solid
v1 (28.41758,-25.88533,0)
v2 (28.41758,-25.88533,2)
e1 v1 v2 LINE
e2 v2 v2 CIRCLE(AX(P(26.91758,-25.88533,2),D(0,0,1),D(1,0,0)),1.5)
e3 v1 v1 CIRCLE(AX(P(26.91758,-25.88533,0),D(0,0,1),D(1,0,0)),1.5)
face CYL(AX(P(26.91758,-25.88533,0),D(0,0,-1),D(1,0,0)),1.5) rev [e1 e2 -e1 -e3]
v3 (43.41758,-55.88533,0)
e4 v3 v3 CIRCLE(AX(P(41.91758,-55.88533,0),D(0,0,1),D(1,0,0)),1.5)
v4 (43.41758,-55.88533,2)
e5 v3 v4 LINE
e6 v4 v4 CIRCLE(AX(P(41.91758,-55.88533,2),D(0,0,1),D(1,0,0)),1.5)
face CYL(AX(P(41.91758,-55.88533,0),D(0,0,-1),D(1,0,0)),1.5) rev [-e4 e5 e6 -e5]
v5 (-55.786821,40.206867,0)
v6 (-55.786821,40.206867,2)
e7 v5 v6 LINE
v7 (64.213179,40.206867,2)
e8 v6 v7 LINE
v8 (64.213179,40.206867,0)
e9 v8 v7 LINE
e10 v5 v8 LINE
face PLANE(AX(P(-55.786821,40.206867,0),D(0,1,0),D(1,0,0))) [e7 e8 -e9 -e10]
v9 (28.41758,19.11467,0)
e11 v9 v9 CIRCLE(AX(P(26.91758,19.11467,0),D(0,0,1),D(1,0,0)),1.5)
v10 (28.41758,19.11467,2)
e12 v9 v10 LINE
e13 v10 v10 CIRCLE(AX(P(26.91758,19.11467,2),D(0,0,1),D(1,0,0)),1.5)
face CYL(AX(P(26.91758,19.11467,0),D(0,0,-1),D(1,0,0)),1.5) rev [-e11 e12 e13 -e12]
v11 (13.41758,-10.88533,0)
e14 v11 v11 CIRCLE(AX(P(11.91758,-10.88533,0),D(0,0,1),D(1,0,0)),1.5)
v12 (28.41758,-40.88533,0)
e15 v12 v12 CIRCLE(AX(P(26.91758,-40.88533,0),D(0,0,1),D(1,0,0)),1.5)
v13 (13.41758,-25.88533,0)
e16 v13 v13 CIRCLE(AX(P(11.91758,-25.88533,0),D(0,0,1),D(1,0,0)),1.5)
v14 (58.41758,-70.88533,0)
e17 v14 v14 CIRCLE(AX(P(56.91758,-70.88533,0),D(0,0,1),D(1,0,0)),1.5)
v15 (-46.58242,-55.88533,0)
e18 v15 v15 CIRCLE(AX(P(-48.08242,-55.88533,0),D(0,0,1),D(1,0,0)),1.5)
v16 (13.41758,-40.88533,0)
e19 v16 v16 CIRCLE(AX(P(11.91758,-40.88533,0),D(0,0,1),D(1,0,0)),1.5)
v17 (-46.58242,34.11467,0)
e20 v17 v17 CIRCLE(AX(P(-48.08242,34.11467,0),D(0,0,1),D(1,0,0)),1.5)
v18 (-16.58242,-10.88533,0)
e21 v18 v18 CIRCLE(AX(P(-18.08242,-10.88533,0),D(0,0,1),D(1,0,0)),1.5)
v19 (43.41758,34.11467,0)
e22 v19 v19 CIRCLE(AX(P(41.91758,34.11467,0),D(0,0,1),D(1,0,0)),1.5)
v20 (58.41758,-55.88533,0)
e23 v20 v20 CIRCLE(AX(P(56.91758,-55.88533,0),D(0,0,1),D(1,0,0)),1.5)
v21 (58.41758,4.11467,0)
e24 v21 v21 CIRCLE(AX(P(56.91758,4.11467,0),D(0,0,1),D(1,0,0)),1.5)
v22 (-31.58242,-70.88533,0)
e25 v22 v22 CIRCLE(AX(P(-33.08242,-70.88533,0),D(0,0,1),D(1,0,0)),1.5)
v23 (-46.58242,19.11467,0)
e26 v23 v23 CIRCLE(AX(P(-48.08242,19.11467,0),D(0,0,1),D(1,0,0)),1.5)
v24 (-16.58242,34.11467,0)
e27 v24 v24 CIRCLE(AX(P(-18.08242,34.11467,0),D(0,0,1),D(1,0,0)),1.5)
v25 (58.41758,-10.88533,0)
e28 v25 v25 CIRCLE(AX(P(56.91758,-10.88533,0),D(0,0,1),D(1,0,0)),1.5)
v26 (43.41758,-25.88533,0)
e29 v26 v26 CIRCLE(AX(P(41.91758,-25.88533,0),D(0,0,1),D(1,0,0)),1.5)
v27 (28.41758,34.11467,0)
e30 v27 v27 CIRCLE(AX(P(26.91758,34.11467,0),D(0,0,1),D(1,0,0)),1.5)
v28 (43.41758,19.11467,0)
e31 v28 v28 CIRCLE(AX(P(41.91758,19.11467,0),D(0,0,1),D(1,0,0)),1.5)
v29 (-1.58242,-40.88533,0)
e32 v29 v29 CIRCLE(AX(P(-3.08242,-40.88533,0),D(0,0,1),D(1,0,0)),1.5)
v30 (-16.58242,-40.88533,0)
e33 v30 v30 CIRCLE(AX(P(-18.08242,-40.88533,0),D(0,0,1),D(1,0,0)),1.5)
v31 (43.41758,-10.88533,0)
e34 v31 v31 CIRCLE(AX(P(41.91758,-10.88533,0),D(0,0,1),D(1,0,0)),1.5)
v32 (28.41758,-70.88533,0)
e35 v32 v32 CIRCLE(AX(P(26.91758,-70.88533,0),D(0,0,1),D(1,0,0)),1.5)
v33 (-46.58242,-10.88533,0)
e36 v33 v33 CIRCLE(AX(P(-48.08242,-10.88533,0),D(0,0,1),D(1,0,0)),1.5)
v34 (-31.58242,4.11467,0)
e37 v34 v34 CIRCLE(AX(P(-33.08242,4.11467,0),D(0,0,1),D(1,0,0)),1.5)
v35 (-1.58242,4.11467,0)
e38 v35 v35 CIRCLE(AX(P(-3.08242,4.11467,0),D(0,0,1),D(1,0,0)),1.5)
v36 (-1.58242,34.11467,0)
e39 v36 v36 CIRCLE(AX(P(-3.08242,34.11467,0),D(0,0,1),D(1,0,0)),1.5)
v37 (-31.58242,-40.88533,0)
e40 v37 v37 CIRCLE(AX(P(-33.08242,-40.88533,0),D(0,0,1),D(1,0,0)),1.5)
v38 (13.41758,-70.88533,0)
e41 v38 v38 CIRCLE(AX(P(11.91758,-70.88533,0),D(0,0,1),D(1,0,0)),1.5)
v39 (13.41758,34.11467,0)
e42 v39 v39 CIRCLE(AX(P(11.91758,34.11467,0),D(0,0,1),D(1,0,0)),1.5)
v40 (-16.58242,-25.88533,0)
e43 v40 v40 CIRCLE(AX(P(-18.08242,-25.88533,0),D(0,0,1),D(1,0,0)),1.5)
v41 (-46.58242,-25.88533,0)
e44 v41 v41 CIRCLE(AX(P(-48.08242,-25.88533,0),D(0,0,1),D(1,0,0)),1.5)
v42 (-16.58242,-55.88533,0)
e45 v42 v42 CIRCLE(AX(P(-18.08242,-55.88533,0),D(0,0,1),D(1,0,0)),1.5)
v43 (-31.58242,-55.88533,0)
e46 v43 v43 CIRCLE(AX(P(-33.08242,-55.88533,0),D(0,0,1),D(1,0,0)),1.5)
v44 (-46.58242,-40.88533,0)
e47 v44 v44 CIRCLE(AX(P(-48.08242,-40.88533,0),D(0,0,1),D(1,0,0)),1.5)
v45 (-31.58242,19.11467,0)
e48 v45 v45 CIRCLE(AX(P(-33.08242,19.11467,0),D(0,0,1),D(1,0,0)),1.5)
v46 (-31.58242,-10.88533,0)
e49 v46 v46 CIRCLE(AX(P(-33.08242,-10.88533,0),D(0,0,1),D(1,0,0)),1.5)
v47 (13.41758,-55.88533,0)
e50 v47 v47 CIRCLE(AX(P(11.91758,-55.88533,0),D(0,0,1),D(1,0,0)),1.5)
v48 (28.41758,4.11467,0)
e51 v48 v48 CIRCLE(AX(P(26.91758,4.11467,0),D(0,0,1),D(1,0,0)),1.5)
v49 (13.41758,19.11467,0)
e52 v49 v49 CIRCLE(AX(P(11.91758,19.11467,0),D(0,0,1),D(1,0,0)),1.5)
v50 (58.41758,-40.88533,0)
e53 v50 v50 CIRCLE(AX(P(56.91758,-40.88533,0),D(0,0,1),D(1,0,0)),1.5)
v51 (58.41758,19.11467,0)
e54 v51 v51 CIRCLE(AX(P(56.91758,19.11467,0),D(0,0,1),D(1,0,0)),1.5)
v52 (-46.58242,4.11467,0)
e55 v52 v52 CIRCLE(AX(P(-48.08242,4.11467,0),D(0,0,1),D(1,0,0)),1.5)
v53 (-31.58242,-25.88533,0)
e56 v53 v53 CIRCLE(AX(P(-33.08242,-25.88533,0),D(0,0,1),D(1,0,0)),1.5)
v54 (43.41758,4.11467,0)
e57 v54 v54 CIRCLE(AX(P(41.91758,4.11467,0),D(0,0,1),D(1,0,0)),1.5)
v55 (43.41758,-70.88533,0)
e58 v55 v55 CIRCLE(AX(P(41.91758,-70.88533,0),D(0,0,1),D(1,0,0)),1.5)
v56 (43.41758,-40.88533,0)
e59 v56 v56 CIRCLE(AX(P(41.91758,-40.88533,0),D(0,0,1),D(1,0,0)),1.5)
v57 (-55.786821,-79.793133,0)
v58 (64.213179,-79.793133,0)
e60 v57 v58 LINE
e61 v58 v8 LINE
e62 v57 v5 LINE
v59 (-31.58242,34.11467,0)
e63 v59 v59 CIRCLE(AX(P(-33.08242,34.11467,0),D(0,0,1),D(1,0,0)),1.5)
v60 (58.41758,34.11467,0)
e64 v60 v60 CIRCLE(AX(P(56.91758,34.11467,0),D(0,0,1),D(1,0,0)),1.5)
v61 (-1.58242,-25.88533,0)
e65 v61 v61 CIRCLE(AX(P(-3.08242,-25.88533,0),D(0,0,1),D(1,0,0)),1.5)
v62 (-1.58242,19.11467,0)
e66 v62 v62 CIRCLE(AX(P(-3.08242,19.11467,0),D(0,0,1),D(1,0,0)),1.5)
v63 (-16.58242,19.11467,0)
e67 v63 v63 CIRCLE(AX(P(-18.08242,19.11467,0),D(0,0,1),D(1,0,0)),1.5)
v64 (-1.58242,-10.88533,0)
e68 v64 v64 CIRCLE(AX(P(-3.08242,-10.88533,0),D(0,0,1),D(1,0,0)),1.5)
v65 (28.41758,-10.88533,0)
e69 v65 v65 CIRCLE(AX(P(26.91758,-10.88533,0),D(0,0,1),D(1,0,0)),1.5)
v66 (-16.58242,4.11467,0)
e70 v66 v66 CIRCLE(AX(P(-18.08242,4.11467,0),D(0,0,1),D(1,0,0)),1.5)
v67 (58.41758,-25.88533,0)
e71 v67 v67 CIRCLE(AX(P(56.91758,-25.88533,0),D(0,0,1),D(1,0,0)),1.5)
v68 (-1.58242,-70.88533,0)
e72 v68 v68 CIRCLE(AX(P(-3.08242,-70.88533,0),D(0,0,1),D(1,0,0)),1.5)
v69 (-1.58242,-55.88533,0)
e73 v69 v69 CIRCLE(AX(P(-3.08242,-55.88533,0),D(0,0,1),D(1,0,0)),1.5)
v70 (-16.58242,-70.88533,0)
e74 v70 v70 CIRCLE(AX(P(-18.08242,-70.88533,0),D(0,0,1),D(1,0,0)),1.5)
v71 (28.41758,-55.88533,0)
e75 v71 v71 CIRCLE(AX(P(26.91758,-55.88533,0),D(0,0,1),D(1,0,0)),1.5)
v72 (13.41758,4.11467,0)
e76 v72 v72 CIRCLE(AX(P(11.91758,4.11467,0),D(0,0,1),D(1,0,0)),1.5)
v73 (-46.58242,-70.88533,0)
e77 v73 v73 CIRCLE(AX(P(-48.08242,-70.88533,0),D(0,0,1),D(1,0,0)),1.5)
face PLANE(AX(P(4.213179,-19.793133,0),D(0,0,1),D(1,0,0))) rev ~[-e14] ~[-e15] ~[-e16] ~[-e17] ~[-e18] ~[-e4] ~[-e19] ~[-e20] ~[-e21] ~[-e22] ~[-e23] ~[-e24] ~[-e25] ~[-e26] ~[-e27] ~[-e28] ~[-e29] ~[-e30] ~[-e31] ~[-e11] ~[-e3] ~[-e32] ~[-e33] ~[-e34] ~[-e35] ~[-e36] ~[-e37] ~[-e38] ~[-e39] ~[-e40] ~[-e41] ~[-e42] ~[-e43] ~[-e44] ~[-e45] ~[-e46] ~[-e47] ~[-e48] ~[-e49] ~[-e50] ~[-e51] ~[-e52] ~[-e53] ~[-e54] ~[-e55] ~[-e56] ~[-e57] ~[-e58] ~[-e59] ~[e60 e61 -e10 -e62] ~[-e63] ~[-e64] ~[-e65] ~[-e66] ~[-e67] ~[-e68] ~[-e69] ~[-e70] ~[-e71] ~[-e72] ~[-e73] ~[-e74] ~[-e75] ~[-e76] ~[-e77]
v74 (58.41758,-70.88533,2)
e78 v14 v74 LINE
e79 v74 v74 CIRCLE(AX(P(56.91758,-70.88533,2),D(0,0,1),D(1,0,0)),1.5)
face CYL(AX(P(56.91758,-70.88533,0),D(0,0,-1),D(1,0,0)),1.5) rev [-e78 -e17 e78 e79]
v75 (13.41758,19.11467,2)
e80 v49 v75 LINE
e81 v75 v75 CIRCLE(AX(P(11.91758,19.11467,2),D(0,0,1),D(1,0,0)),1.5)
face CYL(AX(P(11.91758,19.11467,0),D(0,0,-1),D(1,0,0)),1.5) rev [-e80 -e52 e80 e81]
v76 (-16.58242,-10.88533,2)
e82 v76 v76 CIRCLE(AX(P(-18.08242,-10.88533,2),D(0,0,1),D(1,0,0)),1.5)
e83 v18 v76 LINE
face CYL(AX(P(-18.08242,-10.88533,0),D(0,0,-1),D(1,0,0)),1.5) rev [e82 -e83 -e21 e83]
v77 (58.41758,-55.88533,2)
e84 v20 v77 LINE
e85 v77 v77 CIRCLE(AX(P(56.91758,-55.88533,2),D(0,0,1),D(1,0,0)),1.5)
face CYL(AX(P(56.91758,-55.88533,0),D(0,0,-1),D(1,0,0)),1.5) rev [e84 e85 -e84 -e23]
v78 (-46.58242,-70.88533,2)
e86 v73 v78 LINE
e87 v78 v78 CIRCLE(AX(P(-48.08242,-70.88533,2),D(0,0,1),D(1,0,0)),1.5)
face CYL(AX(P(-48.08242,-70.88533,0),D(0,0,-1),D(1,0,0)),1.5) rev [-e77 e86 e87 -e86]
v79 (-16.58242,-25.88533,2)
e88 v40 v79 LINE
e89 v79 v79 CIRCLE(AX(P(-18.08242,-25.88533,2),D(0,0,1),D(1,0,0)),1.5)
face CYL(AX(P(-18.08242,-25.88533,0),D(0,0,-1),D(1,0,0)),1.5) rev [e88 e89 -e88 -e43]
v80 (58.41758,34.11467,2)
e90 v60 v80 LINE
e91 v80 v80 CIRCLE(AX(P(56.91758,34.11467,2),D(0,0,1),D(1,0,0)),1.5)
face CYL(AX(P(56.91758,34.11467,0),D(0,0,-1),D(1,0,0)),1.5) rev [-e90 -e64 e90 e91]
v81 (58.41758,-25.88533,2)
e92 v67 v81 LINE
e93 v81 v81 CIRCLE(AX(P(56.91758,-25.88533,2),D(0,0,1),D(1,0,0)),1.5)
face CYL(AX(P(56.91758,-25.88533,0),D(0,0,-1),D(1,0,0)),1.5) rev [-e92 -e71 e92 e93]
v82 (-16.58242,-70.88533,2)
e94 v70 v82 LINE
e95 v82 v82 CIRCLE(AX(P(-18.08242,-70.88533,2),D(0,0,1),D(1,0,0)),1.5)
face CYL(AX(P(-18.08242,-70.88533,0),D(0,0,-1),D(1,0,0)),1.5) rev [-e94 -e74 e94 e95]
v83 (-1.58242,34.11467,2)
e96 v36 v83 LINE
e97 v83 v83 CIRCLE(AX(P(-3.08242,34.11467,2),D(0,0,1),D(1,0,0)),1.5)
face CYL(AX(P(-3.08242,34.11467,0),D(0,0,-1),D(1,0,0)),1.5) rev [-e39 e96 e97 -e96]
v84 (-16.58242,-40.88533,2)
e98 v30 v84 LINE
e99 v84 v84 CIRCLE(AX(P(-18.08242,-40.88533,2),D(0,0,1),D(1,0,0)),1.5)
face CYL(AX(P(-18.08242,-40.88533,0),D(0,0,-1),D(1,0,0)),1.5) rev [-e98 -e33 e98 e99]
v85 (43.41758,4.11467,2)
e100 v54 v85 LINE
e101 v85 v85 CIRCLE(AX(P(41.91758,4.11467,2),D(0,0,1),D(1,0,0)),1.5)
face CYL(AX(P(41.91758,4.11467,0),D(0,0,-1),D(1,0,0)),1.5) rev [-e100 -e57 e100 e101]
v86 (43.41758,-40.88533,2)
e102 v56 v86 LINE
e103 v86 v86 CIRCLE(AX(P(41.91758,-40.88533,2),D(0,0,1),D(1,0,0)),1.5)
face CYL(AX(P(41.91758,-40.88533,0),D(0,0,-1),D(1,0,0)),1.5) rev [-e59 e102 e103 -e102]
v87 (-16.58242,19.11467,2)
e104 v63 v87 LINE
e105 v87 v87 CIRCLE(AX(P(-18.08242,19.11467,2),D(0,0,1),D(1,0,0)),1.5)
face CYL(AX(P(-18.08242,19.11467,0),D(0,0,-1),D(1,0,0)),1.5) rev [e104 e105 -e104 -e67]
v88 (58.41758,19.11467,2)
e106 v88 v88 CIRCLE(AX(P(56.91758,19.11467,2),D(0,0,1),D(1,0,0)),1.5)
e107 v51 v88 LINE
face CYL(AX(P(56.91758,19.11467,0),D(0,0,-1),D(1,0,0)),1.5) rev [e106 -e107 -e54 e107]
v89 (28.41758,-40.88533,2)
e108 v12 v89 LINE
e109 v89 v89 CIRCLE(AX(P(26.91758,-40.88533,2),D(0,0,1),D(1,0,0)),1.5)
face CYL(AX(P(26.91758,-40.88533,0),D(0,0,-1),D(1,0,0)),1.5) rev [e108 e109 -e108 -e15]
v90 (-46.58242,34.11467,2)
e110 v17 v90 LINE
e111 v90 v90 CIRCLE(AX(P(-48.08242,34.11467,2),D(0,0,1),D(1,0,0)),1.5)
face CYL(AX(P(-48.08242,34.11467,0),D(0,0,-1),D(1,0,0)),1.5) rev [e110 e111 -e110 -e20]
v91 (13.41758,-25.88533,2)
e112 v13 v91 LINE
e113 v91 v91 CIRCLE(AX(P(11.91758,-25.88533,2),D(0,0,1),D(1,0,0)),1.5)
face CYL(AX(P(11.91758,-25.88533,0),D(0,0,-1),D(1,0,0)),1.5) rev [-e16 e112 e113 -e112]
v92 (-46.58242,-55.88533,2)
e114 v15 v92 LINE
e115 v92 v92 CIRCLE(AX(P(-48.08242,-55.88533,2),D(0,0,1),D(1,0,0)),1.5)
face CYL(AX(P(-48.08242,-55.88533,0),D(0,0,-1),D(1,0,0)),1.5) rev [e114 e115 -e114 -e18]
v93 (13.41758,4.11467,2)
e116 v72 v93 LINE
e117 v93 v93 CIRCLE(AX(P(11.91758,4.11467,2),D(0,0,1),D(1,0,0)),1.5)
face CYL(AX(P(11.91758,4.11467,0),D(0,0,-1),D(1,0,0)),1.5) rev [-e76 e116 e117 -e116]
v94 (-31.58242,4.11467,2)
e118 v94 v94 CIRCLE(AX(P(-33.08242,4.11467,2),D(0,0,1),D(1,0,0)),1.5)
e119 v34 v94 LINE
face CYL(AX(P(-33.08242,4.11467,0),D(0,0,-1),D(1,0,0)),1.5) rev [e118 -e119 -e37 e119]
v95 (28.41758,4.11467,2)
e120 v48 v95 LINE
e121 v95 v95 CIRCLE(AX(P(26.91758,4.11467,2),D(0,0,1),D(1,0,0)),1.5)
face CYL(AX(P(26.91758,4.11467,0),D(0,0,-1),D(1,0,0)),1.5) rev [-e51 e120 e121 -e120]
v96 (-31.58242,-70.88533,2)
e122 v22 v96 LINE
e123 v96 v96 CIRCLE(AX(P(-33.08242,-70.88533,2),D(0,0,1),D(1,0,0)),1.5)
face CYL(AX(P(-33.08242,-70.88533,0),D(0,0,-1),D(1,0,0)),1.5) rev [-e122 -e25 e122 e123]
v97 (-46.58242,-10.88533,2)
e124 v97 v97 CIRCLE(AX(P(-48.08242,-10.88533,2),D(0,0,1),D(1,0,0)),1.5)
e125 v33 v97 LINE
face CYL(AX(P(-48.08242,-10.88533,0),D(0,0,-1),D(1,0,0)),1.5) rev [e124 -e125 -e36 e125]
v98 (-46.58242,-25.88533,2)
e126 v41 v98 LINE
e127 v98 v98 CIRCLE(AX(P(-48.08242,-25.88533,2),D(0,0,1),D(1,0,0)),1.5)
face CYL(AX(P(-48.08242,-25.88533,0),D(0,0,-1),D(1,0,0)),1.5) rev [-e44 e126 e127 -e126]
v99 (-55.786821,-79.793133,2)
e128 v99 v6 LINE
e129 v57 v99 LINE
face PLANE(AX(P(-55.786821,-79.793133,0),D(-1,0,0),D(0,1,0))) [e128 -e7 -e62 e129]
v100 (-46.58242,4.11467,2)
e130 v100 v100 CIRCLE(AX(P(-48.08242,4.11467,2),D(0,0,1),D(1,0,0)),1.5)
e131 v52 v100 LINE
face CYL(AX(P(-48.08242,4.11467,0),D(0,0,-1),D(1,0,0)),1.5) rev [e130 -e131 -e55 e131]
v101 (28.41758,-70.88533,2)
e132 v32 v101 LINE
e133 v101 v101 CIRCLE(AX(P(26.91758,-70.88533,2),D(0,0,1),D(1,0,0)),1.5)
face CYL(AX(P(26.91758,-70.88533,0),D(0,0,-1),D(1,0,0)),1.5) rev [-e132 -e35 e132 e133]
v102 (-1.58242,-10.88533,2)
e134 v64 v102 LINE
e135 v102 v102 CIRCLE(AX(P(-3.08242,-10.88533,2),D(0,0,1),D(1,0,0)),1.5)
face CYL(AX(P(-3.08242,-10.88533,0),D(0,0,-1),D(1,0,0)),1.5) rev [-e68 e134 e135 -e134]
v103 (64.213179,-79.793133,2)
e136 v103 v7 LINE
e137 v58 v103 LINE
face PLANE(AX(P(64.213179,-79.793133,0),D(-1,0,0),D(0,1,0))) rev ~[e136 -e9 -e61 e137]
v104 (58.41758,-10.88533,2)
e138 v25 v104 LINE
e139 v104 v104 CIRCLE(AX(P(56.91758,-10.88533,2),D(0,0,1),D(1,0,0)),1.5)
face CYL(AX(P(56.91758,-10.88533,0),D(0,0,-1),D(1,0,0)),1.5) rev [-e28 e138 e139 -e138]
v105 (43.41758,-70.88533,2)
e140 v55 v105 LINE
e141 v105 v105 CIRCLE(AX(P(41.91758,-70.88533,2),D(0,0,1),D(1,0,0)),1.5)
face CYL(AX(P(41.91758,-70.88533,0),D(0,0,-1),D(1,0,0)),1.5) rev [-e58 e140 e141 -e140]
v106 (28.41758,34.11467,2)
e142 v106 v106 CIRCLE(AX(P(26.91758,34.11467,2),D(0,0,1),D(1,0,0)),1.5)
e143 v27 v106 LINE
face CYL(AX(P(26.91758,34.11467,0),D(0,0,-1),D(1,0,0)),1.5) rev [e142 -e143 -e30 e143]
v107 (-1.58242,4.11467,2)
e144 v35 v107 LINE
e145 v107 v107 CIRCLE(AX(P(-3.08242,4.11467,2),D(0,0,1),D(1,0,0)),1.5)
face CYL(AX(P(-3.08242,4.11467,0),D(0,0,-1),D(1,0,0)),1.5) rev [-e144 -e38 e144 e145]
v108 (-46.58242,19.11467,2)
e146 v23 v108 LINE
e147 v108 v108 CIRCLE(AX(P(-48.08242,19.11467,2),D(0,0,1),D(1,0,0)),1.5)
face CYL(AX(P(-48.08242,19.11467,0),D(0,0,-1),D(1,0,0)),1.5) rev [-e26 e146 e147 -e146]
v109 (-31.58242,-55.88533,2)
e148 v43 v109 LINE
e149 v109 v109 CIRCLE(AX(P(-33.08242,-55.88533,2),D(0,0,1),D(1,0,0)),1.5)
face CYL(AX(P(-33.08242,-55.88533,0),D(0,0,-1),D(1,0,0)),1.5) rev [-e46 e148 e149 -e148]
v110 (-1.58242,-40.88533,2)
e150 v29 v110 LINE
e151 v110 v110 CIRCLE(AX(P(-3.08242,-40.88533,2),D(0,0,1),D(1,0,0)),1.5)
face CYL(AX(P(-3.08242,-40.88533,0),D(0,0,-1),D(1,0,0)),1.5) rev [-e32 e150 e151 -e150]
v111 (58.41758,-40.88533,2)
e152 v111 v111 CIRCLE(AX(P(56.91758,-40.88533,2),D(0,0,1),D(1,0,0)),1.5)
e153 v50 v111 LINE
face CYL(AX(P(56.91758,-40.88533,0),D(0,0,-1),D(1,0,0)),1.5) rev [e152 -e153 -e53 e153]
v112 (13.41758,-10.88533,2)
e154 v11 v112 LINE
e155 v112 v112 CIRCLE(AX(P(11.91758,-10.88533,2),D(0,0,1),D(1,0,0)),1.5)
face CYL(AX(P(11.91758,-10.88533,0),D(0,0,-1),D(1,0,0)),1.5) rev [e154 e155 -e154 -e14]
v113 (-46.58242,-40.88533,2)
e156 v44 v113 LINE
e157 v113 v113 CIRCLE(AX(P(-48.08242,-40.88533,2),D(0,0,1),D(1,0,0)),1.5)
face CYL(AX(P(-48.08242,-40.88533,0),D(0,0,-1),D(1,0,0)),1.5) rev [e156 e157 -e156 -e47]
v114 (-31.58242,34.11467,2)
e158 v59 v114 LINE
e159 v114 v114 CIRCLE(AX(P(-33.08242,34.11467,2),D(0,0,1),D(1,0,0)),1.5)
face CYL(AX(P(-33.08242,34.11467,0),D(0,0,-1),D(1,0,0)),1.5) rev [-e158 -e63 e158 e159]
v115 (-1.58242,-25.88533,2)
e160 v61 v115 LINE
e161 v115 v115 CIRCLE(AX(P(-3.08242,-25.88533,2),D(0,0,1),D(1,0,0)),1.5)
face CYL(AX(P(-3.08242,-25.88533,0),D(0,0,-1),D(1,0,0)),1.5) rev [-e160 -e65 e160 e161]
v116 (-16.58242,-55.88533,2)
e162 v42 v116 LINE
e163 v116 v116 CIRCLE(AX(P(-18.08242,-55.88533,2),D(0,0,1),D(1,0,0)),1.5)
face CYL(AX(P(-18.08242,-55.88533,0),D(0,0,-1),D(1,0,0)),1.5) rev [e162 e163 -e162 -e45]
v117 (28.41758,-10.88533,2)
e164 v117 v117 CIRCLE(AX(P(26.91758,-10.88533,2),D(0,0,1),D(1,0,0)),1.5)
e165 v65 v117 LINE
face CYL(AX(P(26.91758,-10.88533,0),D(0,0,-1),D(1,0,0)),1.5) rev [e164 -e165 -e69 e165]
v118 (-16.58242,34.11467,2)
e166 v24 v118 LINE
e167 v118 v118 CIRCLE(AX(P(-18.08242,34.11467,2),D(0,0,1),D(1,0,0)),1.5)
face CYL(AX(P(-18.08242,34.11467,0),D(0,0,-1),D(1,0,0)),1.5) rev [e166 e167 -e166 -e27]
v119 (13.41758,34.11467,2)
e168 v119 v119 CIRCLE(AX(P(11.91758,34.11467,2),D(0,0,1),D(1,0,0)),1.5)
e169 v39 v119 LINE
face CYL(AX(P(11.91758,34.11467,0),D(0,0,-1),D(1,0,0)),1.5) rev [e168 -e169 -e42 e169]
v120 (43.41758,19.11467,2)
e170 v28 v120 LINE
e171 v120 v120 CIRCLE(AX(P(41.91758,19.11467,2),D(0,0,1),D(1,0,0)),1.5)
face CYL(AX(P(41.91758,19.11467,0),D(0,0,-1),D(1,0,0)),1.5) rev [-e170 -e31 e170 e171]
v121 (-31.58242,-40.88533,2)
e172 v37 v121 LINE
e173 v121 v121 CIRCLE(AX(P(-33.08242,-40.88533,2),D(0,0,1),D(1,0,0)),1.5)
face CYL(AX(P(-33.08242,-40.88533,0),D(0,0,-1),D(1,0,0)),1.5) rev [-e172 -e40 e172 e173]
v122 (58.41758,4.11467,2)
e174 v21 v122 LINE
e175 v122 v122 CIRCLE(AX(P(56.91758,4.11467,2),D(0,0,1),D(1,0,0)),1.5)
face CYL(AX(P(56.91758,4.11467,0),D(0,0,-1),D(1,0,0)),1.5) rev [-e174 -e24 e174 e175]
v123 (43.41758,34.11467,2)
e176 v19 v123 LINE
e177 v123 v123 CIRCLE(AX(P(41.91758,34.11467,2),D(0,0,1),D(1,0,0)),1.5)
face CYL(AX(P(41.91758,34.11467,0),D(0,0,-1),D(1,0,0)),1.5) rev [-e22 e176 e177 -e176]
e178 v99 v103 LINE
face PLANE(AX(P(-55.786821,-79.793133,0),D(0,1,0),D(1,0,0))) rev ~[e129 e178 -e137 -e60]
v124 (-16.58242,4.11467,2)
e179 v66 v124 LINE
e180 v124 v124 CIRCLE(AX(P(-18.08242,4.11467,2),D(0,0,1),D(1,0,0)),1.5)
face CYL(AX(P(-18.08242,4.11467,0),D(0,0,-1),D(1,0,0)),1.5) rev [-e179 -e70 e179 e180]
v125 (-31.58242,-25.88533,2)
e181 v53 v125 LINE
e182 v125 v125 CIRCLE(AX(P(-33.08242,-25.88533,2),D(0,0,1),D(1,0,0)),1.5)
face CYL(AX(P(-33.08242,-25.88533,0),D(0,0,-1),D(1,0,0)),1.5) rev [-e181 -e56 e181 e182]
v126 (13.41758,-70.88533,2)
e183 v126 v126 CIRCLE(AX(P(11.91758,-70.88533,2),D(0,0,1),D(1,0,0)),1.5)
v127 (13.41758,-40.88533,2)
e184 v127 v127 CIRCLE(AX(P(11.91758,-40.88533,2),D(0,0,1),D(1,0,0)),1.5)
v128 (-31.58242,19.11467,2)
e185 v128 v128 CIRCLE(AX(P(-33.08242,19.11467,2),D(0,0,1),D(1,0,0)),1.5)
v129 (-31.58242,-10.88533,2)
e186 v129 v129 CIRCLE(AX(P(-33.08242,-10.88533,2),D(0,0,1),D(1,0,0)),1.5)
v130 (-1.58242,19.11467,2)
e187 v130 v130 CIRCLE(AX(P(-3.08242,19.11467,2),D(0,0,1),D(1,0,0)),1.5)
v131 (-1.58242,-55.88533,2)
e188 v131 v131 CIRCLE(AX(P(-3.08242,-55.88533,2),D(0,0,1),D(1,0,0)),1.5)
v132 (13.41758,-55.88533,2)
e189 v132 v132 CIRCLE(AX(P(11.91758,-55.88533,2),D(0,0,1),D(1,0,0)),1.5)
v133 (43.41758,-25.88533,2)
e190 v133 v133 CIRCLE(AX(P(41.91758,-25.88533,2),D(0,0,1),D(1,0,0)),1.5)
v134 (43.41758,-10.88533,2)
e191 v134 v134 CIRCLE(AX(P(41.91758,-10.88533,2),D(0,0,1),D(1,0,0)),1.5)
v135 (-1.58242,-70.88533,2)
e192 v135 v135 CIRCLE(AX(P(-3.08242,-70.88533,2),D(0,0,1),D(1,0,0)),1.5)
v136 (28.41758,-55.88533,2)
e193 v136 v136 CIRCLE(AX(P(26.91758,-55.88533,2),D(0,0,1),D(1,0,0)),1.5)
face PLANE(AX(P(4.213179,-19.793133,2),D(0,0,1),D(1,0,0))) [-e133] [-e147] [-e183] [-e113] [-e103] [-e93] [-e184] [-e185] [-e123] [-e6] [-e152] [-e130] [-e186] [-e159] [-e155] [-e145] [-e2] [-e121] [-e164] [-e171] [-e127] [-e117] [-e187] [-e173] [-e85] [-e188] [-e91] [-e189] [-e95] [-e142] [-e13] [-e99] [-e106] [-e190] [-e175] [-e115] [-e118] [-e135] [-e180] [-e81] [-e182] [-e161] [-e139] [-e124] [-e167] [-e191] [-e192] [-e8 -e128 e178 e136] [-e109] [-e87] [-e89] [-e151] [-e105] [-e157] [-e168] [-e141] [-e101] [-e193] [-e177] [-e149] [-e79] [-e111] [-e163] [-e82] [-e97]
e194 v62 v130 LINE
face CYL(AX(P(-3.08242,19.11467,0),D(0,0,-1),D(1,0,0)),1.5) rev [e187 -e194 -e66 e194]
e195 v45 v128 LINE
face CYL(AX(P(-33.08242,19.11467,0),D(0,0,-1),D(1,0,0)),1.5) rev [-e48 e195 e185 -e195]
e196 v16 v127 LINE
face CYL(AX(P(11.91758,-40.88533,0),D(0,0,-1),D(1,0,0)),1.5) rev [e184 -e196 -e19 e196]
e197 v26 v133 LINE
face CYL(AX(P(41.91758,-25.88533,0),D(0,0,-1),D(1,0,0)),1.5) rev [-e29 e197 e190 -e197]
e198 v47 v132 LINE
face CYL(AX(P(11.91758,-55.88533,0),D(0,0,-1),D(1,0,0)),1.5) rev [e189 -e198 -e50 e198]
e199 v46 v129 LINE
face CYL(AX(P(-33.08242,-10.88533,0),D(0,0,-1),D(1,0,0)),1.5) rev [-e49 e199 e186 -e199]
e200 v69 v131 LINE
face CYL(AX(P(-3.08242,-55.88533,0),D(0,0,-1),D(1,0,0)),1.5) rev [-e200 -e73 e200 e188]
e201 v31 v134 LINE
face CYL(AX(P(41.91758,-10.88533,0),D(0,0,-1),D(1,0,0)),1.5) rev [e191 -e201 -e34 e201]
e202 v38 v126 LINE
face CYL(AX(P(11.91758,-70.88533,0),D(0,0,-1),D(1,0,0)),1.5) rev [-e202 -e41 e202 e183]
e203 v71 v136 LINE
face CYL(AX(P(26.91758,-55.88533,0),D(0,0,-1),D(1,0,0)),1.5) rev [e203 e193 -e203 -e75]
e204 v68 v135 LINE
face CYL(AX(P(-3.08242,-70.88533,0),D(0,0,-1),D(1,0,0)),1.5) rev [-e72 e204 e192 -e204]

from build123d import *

# Parameters (mm, degrees)
F0_W     = 120
F0_H     = 120
F0_R     = 1.5
F1_DEPTH = 2


with BuildPart() as f1:
    # F0 (on Top) → F1 (new body)
    with BuildSketch(Plane.XY):
        with Locations((4.213179, -19.793133)):
            Rectangle(F0_W, F0_H)
        with Locations((-48.08242, -70.88533)):
            Circle(F0_R, mode=Mode.SUBTRACT)
        with Locations((-33.08242, -70.88533)):
            Circle(F0_R, mode=Mode.SUBTRACT)
        with Locations((-48.08242, -55.88533)):
            Circle(F0_R, mode=Mode.SUBTRACT)
        with Locations((-33.08242, -55.88533)):
            Circle(F0_R, mode=Mode.SUBTRACT)
        with Locations((-18.08242, -70.88533)):
            Circle(F0_R, mode=Mode.SUBTRACT)
        with Locations((-3.08242, -70.88533)):
            Circle(F0_R, mode=Mode.SUBTRACT)
        with Locations((-18.08242, -55.88533)):
            Circle(F0_R, mode=Mode.SUBTRACT)
        with Locations((-3.08242, -55.88533)):
            Circle(F0_R, mode=Mode.SUBTRACT)
        with Locations((-48.08242, -40.88533)):
            Circle(F0_R, mode=Mode.SUBTRACT)
        with Locations((-33.08242, -40.88533)):
            Circle(F0_R, mode=Mode.SUBTRACT)
        with Locations((-48.08242, -25.88533)):
            Circle(F0_R, mode=Mode.SUBTRACT)
        with Locations((-33.08242, -25.88533)):
            Circle(F0_R, mode=Mode.SUBTRACT)
        with Locations((-18.08242, -40.88533)):
            Circle(F0_R, mode=Mode.SUBTRACT)
        with Locations((-3.08242, -40.88533)):
            Circle(F0_R, mode=Mode.SUBTRACT)
        with Locations((-18.08242, -25.88533)):
            Circle(F0_R, mode=Mode.SUBTRACT)
        with Locations((-3.08242, -25.88533)):
            Circle(F0_R, mode=Mode.SUBTRACT)
        with Locations((11.91758, -70.88533)):
            Circle(F0_R, mode=Mode.SUBTRACT)
        with Locations((26.91758, -70.88533)):
            Circle(F0_R, mode=Mode.SUBTRACT)
        with Locations((11.91758, -55.88533)):
            Circle(F0_R, mode=Mode.SUBTRACT)
        with Locations((26.91758, -55.88533)):
            Circle(F0_R, mode=Mode.SUBTRACT)
        with Locations((41.91758, -70.88533)):
            Circle(F0_R, mode=Mode.SUBTRACT)
        with Locations((56.91758, -70.88533)):
            Circle(F0_R, mode=Mode.SUBTRACT)
        with Locations((41.91758, -55.88533)):
            Circle(F0_R, mode=Mode.SUBTRACT)
        with Locations((56.91758, -55.88533)):
            Circle(F0_R, mode=Mode.SUBTRACT)
        with Locations((11.91758, -40.88533)):
            Circle(F0_R, mode=Mode.SUBTRACT)
        with Locations((26.91758, -40.88533)):
            Circle(F0_R, mode=Mode.SUBTRACT)
        with Locations((11.91758, -25.88533)):
            Circle(F0_R, mode=Mode.SUBTRACT)
        with Locations((26.91758, -25.88533)):
            Circle(F0_R, mode=Mode.SUBTRACT)
        with Locations((41.91758, -40.88533)):
            Circle(F0_R, mode=Mode.SUBTRACT)
        with Locations((56.91758, -40.88533)):
            Circle(F0_R, mode=Mode.SUBTRACT)
        with Locations((41.91758, -25.88533)):
            Circle(F0_R, mode=Mode.SUBTRACT)
        with Locations((56.91758, -25.88533)):
            Circle(F0_R, mode=Mode.SUBTRACT)
        with Locations((-48.08242, -10.88533)):
            Circle(F0_R, mode=Mode.SUBTRACT)
        with Locations((-33.08242, -10.88533)):
            Circle(F0_R, mode=Mode.SUBTRACT)
        with Locations((-48.08242, 4.11467)):
            Circle(F0_R, mode=Mode.SUBTRACT)
        with Locations((-33.08242, 4.11467)):
            Circle(F0_R, mode=Mode.SUBTRACT)
        with Locations((-18.08242, -10.88533)):
            Circle(F0_R, mode=Mode.SUBTRACT)
        with Locations((-3.08242, -10.88533)):
            Circle(F0_R, mode=Mode.SUBTRACT)
        with Locations((-18.08242, 4.11467)):
            Circle(F0_R, mode=Mode.SUBTRACT)
        with Locations((-3.08242, 4.11467)):
            Circle(F0_R, mode=Mode.SUBTRACT)
        with Locations((-48.08242, 19.11467)):
            Circle(F0_R, mode=Mode.SUBTRACT)
        with Locations((-33.08242, 19.11467)):
            Circle(F0_R, mode=Mode.SUBTRACT)
        with Locations((-48.08242, 34.11467)):
            Circle(F0_R, mode=Mode.SUBTRACT)
        with Locations((-33.08242, 34.11467)):
            Circle(F0_R, mode=Mode.SUBTRACT)
        with Locations((-18.08242, 19.11467)):
            Circle(F0_R, mode=Mode.SUBTRACT)
        with Locations((-3.08242, 19.11467)):
            Circle(F0_R, mode=Mode.SUBTRACT)
        with Locations((-18.08242, 34.11467)):
            Circle(F0_R, mode=Mode.SUBTRACT)
        with Locations((-3.08242, 34.11467)):
            Circle(F0_R, mode=Mode.SUBTRACT)
        with Locations((11.91758, -10.88533)):
            Circle(F0_R, mode=Mode.SUBTRACT)
        with Locations((26.91758, -10.88533)):
            Circle(F0_R, mode=Mode.SUBTRACT)
        with Locations((11.91758, 4.11467)):
            Circle(F0_R, mode=Mode.SUBTRACT)
        with Locations((26.91758, 4.11467)):
            Circle(F0_R, mode=Mode.SUBTRACT)
        with Locations((41.91758, -10.88533)):
            Circle(F0_R, mode=Mode.SUBTRACT)
        with Locations((56.91758, -10.88533)):
            Circle(F0_R, mode=Mode.SUBTRACT)
        with Locations((41.91758, 4.11467)):
            Circle(F0_R, mode=Mode.SUBTRACT)
        with Locations((56.91758, 4.11467)):
            Circle(F0_R, mode=Mode.SUBTRACT)
        with Locations((11.91758, 19.11467)):
            Circle(F0_R, mode=Mode.SUBTRACT)
        with Locations((26.91758, 19.11467)):
            Circle(F0_R, mode=Mode.SUBTRACT)
        with Locations((11.91758, 34.11467)):
            Circle(F0_R, mode=Mode.SUBTRACT)
        with Locations((26.91758, 34.11467)):
            Circle(F0_R, mode=Mode.SUBTRACT)
        with Locations((41.91758, 19.11467)):
            Circle(F0_R, mode=Mode.SUBTRACT)
        with Locations((56.91758, 19.11467)):
            Circle(F0_R, mode=Mode.SUBTRACT)
        with Locations((41.91758, 34.11467)):
            Circle(F0_R, mode=Mode.SUBTRACT)
        with Locations((56.91758, 34.11467)):
            Circle(F0_R, mode=Mode.SUBTRACT)
    extrude(amount=F1_DEPTH)


solid = f1.part
